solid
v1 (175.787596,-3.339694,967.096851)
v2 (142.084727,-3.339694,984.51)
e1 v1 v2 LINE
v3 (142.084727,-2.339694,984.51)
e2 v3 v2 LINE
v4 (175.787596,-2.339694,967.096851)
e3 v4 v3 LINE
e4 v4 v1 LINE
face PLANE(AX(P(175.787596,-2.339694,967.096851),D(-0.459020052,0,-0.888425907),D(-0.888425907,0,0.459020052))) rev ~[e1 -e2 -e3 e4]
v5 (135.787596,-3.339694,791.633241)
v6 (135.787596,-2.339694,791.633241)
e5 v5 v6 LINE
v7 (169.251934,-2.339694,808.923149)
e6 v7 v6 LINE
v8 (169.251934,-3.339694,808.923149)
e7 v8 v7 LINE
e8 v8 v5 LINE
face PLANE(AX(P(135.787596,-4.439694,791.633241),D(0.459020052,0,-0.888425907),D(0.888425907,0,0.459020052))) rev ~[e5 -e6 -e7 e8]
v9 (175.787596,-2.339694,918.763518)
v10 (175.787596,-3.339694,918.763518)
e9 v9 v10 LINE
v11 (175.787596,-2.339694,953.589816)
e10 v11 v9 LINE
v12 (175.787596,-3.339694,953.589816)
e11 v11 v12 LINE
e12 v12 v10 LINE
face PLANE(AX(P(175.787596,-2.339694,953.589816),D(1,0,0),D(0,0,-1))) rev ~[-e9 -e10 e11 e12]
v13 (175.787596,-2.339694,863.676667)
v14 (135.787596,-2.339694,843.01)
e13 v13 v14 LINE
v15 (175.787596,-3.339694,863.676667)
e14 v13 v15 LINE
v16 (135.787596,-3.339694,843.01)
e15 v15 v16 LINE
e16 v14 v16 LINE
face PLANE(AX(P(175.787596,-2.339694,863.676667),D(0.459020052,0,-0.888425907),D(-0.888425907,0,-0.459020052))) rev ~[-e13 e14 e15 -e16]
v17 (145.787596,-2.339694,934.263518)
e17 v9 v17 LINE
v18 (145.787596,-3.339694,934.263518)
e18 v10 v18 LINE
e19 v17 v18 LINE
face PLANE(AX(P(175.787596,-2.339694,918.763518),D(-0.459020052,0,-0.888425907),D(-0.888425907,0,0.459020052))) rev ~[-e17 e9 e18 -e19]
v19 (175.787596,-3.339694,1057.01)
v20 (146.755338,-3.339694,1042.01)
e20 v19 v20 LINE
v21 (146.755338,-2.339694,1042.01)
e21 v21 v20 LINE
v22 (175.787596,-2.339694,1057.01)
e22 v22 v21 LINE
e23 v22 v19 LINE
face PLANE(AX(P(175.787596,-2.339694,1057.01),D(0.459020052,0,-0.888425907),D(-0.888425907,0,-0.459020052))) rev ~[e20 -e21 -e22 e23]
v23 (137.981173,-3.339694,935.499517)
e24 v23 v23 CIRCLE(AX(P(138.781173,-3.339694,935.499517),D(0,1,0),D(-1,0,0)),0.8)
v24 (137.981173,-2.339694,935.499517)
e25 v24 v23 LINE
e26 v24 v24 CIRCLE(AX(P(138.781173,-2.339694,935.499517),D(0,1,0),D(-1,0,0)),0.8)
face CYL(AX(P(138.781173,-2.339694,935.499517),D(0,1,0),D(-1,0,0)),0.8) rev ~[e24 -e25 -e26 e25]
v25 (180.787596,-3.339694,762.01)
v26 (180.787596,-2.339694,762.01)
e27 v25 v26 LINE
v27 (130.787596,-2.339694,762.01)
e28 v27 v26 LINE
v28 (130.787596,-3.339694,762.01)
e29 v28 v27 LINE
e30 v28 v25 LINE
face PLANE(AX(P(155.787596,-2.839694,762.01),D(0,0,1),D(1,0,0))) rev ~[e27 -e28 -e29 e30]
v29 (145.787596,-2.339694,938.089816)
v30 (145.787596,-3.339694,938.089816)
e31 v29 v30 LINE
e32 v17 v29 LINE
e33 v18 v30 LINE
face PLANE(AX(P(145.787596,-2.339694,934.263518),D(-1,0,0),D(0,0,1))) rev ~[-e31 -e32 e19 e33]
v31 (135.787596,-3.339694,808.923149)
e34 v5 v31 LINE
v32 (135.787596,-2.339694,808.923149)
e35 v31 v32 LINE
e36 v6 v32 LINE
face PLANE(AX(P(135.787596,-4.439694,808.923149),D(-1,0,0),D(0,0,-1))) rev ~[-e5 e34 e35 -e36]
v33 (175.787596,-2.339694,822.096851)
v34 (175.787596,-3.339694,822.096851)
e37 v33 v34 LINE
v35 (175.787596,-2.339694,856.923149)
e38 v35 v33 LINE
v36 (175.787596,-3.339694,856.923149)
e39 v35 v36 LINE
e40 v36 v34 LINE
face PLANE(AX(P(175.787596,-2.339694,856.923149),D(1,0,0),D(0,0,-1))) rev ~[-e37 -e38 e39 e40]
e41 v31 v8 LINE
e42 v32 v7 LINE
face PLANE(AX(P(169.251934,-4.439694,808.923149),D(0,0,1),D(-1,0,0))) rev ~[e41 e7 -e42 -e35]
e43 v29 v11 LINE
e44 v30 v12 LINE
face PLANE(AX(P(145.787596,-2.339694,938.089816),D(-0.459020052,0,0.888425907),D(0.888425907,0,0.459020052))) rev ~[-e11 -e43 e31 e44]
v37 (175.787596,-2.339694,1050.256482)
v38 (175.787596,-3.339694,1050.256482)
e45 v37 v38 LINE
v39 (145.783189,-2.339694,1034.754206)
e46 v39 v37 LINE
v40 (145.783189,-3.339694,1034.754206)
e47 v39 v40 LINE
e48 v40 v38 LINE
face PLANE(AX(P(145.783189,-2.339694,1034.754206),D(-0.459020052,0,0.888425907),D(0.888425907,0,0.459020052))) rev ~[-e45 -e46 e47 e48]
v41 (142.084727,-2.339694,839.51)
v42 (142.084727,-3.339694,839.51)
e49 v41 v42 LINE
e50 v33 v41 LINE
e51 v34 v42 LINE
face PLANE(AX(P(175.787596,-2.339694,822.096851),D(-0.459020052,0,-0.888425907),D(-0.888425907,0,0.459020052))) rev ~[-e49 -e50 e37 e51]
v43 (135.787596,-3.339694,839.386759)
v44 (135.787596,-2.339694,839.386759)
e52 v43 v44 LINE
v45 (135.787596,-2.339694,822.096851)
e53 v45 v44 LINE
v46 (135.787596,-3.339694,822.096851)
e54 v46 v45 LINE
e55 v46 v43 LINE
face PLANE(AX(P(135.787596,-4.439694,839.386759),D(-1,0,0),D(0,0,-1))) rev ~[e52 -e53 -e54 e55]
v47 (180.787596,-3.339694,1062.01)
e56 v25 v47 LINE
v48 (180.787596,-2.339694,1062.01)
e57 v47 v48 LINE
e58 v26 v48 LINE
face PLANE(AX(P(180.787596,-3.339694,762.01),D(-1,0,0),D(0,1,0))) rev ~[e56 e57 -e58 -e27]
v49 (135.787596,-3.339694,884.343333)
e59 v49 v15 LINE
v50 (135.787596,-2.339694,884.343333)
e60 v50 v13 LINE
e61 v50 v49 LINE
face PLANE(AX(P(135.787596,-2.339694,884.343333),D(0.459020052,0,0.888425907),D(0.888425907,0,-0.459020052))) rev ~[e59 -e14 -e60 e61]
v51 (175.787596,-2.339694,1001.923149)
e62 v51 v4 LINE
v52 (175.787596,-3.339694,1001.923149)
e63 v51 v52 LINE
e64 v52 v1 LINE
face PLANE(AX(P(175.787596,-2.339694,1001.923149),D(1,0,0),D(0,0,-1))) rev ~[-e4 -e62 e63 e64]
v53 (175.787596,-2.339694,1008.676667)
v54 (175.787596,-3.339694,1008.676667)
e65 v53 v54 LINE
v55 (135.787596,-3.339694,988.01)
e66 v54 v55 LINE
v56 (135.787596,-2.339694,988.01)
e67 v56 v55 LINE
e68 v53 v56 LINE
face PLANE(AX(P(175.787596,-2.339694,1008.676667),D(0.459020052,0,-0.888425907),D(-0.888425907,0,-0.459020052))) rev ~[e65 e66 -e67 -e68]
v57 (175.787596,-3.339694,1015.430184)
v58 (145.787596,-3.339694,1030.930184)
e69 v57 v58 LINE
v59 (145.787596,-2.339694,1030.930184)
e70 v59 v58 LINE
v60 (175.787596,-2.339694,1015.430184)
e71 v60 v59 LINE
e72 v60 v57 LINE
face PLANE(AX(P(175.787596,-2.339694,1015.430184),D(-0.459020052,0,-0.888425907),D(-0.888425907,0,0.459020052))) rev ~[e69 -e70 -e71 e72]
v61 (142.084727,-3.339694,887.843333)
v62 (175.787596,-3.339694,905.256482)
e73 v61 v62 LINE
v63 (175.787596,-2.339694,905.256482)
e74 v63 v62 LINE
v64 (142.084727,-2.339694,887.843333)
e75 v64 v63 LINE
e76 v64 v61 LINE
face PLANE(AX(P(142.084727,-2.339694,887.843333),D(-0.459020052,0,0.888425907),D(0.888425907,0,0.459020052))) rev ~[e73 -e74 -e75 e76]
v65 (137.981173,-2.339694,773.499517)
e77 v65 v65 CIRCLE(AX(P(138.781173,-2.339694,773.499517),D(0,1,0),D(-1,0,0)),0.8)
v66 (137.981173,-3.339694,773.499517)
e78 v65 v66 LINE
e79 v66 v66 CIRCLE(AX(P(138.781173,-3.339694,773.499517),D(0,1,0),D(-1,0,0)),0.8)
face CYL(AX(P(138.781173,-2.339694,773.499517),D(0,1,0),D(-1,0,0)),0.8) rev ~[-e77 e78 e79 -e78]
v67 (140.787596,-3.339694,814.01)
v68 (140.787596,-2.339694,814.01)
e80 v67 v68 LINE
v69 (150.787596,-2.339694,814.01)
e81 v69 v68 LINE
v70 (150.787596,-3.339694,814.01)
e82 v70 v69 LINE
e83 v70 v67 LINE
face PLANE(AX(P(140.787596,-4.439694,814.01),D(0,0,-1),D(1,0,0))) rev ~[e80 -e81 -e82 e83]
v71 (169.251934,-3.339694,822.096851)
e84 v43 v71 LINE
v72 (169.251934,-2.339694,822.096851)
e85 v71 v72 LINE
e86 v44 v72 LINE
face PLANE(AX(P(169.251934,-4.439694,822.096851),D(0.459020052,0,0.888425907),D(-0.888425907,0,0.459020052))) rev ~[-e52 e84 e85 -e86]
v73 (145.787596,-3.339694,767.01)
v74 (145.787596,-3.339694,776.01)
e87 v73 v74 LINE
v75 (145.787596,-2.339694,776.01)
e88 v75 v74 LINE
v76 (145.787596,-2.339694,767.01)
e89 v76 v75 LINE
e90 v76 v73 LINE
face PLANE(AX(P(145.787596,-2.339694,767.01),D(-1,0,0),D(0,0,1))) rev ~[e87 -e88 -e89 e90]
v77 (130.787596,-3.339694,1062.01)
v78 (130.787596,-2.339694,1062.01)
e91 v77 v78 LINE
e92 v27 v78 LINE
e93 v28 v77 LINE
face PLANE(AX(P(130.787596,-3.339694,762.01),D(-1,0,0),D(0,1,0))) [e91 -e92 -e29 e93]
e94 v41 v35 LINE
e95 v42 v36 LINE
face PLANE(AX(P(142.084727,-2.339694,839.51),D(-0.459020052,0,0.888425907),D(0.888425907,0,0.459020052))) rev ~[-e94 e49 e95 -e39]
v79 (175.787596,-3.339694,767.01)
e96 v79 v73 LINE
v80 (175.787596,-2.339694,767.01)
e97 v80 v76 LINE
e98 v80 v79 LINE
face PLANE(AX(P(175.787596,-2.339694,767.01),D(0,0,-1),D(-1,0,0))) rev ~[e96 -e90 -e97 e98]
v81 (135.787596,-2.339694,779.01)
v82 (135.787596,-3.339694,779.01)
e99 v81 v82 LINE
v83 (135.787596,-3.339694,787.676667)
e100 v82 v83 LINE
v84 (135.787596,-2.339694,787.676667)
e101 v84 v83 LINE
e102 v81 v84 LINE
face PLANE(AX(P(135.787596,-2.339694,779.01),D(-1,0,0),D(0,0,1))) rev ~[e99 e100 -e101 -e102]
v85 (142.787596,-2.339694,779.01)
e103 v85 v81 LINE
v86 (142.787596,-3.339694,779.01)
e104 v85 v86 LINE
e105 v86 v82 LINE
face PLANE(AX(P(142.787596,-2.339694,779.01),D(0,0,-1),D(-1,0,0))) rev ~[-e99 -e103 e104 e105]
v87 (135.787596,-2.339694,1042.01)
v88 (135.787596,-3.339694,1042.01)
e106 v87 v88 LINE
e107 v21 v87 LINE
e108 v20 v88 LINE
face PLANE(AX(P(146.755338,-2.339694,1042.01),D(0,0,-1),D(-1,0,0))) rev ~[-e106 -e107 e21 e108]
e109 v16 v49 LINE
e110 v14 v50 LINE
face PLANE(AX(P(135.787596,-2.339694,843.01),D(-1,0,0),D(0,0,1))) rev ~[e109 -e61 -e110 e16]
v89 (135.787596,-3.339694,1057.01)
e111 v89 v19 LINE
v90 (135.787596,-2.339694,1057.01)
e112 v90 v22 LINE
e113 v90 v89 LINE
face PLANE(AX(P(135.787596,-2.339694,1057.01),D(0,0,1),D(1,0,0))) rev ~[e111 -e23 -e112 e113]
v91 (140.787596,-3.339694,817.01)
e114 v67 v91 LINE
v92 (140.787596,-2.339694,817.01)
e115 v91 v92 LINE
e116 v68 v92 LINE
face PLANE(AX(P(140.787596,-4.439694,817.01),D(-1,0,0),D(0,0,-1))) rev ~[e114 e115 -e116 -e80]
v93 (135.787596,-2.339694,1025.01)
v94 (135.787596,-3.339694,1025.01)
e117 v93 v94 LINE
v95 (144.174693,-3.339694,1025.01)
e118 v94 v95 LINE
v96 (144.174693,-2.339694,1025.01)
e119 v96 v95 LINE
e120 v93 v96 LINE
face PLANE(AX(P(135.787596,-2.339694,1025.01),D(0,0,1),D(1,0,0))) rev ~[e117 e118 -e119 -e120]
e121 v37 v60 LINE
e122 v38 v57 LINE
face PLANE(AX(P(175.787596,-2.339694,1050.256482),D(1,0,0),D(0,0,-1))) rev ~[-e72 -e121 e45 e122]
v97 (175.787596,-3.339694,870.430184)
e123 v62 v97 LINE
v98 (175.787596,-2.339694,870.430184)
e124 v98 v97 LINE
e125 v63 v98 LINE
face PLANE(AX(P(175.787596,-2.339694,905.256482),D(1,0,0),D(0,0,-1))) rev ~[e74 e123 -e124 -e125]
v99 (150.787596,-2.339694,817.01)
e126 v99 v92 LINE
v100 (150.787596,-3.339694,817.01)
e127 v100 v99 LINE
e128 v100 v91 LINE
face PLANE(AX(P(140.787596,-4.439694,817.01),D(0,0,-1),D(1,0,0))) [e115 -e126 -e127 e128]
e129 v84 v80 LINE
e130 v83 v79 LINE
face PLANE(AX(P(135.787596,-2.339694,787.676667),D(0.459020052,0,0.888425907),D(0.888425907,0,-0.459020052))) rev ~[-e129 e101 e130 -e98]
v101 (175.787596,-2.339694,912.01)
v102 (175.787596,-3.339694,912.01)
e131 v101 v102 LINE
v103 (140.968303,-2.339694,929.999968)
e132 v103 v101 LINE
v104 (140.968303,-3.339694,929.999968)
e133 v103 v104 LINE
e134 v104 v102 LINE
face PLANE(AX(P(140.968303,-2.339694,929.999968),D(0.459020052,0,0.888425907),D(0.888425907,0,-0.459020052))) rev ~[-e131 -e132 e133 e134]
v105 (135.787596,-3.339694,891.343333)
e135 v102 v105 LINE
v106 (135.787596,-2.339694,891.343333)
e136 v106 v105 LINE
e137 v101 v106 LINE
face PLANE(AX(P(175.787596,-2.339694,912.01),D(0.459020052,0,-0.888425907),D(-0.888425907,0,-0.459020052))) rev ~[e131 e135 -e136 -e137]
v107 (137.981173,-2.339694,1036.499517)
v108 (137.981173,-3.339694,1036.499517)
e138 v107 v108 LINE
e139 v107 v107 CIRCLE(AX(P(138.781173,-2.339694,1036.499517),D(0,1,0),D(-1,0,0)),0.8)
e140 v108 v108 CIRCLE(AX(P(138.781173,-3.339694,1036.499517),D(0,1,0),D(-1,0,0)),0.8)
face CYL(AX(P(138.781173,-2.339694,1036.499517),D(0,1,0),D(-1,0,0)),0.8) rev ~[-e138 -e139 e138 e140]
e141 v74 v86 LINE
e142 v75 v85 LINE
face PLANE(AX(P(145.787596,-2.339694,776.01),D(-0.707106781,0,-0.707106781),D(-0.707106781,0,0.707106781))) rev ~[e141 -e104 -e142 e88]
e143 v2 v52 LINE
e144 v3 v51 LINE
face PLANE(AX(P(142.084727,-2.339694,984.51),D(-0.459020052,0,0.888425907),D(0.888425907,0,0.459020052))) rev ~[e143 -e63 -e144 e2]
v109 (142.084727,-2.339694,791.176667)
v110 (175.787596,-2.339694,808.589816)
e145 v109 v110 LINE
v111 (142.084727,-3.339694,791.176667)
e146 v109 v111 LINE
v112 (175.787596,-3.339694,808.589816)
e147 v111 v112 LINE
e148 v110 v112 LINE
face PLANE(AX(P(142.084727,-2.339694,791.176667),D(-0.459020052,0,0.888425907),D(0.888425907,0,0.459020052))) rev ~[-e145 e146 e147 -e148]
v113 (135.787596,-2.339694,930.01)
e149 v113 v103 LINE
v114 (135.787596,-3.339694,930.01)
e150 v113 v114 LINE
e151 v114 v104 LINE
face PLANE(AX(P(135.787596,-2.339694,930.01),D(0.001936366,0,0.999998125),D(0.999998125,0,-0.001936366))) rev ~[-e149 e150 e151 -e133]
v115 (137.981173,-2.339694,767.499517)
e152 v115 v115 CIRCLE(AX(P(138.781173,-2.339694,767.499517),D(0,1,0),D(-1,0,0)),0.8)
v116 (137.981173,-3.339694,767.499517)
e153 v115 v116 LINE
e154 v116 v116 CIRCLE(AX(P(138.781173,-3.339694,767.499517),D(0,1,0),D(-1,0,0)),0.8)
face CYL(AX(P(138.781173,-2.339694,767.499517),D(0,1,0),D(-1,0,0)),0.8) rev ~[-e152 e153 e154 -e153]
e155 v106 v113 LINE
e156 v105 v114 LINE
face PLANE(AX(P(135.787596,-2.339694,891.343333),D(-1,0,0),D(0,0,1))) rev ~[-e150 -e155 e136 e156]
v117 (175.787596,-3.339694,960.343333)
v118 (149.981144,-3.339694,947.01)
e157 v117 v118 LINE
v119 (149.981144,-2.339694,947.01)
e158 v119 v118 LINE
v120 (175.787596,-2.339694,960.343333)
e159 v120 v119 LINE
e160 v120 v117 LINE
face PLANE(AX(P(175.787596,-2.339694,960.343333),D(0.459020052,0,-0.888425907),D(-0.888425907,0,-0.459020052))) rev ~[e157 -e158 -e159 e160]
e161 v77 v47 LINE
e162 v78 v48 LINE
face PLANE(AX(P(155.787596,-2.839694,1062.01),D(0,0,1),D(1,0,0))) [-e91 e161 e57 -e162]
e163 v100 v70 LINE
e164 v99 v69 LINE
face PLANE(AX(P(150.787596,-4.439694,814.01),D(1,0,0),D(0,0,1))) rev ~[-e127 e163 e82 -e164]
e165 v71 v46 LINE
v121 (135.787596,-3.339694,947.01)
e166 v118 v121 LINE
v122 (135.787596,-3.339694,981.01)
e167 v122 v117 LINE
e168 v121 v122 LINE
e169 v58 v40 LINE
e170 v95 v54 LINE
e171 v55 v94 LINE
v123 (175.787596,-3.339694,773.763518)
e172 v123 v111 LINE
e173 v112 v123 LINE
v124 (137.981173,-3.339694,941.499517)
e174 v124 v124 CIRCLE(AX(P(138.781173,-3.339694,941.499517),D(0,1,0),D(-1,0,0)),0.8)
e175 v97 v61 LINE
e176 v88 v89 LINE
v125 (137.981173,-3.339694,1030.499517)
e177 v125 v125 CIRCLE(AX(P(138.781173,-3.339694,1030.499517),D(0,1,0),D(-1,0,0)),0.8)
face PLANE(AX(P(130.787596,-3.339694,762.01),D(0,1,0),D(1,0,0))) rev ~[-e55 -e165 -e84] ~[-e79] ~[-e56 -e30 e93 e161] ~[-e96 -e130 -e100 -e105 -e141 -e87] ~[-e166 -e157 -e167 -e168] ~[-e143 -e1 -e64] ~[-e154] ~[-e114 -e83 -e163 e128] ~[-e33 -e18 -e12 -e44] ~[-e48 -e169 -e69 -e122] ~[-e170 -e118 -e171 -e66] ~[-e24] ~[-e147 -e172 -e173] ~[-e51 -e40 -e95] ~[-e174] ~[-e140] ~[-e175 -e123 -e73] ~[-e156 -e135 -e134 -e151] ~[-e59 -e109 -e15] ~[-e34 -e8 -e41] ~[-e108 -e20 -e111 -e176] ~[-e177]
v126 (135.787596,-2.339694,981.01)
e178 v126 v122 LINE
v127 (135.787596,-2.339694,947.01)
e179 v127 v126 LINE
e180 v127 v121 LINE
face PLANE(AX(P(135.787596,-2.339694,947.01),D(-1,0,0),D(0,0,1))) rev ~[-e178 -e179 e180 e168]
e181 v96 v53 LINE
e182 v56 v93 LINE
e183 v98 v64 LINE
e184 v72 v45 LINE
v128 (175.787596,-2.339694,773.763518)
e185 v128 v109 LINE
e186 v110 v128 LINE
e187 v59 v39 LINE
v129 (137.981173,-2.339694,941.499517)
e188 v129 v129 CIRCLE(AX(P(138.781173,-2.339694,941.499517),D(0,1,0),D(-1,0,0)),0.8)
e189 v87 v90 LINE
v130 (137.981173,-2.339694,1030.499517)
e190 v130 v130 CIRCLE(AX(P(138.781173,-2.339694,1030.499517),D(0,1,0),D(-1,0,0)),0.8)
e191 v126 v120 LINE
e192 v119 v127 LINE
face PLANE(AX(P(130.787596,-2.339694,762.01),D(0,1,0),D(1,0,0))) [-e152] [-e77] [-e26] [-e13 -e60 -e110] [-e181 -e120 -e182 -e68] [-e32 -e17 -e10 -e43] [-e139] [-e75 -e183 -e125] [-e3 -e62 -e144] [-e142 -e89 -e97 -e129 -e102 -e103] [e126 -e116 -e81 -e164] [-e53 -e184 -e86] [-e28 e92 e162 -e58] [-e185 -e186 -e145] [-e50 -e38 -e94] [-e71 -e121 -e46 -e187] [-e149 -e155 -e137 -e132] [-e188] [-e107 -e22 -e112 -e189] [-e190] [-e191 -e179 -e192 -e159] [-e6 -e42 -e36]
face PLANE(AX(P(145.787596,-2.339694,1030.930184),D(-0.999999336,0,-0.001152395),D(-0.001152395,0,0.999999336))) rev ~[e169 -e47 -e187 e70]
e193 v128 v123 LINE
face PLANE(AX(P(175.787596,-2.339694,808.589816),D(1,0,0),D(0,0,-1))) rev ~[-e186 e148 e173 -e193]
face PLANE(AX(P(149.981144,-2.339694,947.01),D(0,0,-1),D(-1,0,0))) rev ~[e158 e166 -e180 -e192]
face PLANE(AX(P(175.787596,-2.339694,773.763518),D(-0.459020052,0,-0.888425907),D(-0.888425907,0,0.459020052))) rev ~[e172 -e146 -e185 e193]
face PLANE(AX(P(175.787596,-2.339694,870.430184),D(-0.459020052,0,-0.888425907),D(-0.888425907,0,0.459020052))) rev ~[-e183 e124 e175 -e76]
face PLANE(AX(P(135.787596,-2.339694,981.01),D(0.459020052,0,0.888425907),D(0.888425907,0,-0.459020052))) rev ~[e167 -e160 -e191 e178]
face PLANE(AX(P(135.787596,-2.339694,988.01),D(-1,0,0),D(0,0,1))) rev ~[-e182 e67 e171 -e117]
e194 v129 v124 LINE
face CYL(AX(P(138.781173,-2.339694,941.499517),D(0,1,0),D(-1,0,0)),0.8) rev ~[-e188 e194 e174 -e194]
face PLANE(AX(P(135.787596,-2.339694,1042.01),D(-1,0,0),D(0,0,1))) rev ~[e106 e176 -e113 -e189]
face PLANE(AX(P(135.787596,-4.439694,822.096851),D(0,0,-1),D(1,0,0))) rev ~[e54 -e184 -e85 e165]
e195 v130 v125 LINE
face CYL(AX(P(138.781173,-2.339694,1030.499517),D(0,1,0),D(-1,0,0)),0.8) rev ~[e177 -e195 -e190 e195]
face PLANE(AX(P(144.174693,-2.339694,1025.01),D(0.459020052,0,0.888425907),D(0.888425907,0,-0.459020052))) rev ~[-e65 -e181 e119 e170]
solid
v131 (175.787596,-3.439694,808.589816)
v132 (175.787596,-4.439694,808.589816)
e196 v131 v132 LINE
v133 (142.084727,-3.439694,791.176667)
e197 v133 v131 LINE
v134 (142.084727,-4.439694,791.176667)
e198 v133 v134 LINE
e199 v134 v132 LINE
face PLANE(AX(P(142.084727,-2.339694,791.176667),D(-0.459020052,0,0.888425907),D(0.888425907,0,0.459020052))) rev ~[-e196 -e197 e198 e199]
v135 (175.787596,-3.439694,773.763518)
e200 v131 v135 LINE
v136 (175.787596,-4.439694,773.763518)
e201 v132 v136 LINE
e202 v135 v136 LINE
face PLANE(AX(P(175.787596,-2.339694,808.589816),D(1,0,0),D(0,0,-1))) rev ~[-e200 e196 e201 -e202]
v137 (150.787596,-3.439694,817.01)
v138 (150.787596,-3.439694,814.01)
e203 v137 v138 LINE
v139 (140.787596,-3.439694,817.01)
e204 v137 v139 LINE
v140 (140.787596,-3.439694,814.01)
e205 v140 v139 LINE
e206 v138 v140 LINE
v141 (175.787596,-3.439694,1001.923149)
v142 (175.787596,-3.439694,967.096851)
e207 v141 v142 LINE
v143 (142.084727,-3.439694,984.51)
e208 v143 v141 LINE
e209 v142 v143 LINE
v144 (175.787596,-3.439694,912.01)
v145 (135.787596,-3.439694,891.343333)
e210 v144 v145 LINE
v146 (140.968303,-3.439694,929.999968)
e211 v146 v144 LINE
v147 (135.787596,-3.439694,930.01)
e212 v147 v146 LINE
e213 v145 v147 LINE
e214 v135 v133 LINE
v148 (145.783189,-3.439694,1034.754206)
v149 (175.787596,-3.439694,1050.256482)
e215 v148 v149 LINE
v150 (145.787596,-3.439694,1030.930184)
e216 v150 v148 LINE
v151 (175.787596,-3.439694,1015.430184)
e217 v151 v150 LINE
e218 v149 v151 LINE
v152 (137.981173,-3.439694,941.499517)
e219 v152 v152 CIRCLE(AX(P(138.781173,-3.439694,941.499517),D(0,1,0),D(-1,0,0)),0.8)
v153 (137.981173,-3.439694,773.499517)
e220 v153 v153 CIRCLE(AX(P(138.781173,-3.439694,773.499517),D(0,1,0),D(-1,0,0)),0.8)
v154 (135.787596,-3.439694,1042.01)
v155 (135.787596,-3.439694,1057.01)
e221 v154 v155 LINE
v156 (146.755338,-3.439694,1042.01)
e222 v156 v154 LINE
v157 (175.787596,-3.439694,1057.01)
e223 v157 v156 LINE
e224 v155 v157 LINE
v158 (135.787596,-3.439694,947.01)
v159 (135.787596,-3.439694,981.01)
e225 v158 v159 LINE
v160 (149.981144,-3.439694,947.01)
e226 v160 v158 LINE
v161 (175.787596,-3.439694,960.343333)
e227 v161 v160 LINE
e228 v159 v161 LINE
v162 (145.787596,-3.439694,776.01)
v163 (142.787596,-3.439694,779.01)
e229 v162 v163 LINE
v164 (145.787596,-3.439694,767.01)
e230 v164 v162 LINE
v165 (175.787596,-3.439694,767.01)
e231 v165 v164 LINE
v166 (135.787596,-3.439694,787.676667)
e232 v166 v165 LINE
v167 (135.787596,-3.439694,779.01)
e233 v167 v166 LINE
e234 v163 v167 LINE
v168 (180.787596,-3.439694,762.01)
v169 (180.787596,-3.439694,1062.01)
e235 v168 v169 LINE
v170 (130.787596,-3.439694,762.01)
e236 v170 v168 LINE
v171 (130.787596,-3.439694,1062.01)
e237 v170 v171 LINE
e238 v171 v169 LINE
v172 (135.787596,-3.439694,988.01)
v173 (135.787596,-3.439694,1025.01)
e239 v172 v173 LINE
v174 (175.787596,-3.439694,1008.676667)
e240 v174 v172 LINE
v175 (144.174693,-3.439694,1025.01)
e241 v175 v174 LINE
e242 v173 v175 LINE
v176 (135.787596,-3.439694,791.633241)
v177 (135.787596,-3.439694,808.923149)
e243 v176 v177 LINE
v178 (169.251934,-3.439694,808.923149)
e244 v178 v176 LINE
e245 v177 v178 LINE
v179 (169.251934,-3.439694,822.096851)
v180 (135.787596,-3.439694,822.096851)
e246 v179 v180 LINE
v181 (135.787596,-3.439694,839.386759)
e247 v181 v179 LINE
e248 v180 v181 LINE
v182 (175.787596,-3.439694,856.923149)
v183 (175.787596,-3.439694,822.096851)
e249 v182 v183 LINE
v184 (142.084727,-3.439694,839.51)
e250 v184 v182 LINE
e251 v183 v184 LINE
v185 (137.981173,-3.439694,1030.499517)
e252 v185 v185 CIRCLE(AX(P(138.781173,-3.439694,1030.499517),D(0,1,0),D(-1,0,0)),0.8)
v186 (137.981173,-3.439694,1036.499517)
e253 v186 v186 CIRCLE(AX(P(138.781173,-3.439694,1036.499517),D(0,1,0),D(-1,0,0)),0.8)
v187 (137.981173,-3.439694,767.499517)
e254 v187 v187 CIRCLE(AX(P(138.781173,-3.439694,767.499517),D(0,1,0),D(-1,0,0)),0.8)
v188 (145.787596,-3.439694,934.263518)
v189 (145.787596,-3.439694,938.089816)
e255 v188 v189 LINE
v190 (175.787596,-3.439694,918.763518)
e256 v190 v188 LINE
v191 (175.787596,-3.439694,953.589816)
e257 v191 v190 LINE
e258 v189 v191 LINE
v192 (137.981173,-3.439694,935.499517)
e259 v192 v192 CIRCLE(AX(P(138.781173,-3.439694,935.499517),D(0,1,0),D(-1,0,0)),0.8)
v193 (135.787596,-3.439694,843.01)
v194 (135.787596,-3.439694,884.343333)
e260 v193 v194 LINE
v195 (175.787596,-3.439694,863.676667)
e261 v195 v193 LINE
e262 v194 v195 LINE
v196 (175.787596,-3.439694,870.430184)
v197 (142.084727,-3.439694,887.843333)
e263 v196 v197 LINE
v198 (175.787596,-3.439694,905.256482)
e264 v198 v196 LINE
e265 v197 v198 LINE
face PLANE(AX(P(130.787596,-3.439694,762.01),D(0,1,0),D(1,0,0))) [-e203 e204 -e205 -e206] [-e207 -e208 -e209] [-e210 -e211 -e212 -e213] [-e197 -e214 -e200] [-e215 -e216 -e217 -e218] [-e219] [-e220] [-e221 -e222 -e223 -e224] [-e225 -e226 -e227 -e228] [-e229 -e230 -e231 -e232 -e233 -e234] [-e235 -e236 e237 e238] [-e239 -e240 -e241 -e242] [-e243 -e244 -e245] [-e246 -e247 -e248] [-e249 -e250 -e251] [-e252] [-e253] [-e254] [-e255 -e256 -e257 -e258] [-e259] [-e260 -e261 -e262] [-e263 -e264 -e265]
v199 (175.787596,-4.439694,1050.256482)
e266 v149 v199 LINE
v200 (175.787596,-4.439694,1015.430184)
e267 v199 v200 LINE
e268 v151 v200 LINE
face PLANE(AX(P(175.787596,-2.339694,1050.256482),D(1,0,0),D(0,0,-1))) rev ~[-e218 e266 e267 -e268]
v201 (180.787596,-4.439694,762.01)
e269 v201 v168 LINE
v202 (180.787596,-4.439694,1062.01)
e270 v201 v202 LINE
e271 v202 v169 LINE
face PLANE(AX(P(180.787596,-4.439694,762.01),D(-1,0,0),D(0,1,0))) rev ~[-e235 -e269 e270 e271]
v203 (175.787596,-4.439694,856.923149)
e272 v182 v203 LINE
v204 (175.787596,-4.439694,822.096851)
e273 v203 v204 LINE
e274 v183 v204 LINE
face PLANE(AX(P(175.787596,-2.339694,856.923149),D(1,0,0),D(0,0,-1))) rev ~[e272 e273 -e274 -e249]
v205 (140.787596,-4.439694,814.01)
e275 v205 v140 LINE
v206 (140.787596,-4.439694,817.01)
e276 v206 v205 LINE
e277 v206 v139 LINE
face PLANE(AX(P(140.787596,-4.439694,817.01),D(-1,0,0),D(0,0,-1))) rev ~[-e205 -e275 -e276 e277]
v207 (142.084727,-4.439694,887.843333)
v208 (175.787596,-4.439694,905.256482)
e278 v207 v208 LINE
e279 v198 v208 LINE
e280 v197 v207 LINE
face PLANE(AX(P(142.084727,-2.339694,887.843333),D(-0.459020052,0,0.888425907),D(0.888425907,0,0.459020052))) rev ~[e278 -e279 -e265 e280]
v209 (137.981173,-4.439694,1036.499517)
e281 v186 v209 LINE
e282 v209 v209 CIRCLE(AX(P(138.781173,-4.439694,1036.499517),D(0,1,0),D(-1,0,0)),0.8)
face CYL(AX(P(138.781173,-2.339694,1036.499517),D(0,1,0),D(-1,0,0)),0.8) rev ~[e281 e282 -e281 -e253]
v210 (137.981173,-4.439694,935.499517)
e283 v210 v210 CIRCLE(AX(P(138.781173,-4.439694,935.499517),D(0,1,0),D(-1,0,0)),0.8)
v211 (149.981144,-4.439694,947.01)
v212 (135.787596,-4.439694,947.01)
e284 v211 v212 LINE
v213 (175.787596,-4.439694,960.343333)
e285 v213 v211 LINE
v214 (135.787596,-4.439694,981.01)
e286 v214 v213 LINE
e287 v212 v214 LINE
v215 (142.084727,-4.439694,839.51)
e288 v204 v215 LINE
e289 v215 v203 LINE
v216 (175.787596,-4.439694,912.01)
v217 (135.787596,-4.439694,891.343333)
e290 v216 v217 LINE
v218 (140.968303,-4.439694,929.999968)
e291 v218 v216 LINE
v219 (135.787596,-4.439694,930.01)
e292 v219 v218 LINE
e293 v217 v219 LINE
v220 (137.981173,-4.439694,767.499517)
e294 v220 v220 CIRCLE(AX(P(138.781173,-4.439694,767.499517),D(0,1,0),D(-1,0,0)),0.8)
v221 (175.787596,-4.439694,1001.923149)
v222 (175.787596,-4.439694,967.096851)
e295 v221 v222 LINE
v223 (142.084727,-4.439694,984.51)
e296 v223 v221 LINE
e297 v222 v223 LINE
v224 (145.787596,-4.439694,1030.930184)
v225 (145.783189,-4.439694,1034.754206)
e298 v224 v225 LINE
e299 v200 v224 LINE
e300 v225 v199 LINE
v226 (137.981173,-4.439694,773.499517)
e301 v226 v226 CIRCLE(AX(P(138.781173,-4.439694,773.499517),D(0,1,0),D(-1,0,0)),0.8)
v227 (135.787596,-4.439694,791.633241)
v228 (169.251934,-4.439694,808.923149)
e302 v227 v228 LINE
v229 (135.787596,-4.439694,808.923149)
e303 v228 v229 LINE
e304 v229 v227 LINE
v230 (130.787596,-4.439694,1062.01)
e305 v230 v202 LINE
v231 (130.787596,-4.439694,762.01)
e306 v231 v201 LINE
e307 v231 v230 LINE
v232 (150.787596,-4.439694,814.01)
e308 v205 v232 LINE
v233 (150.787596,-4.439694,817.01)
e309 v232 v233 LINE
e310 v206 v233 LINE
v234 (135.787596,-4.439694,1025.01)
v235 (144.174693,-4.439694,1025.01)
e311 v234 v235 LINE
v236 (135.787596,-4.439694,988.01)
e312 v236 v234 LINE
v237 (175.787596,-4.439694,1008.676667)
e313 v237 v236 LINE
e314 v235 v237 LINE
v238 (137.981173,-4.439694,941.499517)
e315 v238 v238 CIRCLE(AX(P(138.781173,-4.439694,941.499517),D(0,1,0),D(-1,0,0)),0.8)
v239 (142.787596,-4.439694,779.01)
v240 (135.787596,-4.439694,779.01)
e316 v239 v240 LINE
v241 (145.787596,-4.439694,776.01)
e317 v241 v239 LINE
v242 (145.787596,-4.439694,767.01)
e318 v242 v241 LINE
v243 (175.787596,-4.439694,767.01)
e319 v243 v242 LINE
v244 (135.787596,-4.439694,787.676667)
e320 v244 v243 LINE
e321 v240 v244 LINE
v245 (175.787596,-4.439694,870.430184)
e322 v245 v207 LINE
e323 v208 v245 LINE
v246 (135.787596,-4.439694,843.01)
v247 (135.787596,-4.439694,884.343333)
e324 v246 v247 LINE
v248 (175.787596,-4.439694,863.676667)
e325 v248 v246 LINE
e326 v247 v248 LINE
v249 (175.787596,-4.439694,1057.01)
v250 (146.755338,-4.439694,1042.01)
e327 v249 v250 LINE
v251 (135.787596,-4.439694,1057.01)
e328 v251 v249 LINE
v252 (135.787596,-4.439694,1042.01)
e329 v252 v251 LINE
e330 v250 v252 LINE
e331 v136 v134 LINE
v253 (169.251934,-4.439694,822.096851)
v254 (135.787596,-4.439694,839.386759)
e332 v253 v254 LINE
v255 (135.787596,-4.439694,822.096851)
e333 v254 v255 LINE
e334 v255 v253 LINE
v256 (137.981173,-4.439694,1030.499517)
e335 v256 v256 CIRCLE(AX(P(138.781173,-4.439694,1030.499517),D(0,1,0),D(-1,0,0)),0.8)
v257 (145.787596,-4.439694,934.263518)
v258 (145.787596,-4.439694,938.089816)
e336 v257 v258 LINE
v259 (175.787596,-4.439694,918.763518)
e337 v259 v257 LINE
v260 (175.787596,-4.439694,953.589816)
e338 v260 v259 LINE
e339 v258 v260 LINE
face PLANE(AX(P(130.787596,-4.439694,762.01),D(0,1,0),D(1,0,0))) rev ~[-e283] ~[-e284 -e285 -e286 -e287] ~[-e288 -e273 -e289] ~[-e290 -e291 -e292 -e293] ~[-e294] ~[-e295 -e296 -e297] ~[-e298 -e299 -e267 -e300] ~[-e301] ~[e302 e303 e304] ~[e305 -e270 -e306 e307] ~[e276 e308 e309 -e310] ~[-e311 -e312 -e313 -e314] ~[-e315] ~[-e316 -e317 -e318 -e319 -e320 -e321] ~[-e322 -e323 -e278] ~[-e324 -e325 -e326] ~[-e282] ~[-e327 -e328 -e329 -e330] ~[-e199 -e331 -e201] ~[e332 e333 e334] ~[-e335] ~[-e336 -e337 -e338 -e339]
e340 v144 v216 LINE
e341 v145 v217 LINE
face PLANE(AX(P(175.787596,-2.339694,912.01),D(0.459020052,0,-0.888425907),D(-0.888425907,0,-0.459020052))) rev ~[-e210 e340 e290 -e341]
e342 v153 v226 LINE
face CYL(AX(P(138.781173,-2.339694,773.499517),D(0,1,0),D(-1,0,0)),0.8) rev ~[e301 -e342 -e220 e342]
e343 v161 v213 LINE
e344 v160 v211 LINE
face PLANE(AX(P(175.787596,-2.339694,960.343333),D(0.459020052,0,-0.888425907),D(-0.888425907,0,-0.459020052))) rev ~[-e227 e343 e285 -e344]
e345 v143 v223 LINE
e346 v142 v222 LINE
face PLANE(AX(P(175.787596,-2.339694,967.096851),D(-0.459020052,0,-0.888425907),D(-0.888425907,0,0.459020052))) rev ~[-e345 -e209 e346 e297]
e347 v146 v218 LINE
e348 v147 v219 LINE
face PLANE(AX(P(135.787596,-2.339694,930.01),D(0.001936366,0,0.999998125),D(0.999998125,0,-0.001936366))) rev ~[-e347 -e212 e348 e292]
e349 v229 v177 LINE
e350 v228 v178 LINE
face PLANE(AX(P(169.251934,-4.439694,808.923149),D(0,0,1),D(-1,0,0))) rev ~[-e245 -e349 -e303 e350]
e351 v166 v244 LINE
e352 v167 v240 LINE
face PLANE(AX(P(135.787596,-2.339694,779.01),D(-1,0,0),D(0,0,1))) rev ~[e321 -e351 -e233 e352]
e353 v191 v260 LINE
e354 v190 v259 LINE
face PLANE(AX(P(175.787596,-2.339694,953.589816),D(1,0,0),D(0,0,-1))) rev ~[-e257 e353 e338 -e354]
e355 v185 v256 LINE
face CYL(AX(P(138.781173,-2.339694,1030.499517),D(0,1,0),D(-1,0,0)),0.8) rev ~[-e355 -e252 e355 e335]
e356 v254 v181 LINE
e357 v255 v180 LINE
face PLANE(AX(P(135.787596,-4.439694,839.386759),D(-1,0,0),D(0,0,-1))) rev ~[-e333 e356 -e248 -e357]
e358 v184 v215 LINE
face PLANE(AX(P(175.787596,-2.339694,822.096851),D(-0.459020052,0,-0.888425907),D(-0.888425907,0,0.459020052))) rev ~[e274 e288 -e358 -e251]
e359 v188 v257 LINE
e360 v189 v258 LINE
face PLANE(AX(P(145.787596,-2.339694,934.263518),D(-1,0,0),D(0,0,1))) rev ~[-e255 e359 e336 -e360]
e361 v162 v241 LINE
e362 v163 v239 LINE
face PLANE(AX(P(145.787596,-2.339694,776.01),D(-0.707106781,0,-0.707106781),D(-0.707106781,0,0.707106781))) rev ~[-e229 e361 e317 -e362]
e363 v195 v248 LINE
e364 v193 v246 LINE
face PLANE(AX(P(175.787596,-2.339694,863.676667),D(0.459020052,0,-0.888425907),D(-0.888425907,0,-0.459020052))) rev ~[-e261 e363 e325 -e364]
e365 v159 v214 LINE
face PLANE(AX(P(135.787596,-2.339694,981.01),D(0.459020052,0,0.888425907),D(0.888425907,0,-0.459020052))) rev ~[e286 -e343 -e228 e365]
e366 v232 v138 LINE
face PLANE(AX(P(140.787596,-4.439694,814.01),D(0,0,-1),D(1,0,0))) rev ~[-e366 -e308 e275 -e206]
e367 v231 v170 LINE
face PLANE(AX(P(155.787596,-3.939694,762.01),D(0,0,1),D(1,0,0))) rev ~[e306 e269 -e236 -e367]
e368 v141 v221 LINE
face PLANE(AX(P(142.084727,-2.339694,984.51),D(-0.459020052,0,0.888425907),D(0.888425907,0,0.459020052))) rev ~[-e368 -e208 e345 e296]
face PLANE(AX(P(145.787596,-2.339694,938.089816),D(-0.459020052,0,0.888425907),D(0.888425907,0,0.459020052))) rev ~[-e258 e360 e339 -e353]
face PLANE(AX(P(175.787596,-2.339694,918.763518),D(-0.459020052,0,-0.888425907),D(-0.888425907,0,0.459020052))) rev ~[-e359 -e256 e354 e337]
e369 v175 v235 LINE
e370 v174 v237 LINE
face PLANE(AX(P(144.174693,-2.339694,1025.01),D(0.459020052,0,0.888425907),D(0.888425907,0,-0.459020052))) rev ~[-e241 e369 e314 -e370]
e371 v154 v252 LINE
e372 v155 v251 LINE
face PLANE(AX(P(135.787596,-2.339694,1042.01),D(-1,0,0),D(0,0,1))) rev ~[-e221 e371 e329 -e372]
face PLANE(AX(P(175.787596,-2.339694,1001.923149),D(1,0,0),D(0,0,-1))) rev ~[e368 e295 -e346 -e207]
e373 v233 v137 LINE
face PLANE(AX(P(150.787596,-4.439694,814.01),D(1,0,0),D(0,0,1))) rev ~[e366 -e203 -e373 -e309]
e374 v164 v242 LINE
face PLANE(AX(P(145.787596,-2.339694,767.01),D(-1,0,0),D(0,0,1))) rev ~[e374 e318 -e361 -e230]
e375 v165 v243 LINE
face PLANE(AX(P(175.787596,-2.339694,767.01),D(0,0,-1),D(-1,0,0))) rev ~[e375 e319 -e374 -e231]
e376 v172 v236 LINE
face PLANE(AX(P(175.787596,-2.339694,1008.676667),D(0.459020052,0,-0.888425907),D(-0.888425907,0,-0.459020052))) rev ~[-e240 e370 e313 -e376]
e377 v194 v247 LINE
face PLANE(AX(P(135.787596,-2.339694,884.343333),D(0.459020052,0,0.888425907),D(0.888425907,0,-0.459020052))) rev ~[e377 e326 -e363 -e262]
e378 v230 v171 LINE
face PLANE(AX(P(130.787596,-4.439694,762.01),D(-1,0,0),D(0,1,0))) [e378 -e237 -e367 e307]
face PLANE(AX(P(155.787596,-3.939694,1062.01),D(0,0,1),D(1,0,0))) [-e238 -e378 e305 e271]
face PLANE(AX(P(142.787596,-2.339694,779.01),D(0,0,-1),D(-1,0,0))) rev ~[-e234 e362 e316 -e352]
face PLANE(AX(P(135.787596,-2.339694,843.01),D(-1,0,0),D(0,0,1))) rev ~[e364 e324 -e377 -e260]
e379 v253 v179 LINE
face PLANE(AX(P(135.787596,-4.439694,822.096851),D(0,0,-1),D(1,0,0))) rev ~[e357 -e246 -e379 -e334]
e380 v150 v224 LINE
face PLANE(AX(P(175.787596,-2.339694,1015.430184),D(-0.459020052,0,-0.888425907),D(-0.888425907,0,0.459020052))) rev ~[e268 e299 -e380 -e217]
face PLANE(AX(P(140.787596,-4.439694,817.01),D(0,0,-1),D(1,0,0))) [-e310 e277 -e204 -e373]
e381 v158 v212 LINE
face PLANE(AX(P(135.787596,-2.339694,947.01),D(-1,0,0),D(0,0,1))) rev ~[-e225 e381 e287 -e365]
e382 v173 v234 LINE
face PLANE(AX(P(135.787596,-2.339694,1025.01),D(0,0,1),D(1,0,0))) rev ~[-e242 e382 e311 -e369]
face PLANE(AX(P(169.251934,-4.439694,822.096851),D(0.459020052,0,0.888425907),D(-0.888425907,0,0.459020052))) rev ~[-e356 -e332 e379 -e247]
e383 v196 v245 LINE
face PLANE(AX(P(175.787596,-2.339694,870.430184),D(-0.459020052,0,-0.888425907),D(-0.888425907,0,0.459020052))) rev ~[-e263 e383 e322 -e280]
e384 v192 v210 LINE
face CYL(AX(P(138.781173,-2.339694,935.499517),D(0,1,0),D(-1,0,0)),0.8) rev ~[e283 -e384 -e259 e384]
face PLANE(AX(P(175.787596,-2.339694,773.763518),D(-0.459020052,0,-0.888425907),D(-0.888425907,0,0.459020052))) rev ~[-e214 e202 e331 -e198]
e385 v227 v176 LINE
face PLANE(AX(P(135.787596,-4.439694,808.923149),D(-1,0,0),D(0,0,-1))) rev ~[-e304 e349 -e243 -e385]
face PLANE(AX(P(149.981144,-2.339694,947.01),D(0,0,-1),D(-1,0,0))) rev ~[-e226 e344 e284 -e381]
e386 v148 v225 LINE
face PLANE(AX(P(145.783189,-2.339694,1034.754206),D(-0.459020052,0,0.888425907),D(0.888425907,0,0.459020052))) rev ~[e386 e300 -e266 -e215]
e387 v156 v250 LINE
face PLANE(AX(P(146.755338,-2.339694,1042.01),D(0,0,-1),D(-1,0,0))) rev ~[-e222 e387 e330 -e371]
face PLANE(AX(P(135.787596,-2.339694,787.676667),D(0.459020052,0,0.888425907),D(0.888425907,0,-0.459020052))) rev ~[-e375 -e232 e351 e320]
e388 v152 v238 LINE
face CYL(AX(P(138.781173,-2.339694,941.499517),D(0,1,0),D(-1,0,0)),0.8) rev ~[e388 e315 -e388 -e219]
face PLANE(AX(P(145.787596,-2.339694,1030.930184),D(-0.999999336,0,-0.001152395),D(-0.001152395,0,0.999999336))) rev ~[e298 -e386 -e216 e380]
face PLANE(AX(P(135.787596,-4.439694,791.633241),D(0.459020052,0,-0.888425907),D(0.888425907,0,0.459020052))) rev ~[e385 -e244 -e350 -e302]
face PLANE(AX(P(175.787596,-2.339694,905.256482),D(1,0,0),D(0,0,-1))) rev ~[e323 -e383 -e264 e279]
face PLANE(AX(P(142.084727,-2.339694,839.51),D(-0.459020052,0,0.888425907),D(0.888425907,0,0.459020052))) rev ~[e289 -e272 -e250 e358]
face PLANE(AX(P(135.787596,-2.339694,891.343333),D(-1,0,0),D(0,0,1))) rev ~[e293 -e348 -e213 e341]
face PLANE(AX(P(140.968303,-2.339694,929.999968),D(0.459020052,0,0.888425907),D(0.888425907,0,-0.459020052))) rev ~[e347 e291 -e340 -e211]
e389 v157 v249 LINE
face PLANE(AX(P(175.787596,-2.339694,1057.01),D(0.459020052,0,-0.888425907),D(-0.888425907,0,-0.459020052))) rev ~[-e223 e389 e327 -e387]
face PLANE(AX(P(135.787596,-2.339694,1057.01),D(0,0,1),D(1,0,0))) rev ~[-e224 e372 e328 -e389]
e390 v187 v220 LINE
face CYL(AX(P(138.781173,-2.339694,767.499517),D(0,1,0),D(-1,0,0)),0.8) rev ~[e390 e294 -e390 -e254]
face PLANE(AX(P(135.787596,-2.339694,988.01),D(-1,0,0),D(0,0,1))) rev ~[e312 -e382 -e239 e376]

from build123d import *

# Parameters (mm, degrees)
SKETCH_2_W          = 50
SKETCH_2_H          = 1
EXTRUDE_1_DEPTH     = 300
EXTRUDE_1_2_DEPTH   = 300
CUT_EXTRUDE_1_DEPTH = 1078.290028257
SKETCH_4_W          = 10
SKETCH_4_H          = 1.5
CUT_EXTRUDE_2_DEPTH = 10
SKETCH_5_R          = 0.8
CUT_EXTRUDE_3_DEPTH = 1078.290028257


with BuildPart() as part:
    # 草图2 → 凸台-拉伸1 (new body)
    with BuildSketch(Plane.XY.offset(762.01)):
        with Locations((155.787596038, -2.839694097)):
            Rectangle(SKETCH_2_W, SKETCH_2_H)
    extrude(amount=EXTRUDE_1_DEPTH)


with BuildPart() as body_2:
    # 草图2 → Extrude 1 2 (new body)
    with BuildSketch(Plane.XY.offset(762.01)):
        with Locations((155.787596038, -3.939694097)):
            Rectangle(SKETCH_2_W, SKETCH_2_H)
    extrude(amount=EXTRUDE_1_2_DEPTH)


with BuildPart() as cut_extrude_1_tool:
    # 草图3 → 切除-拉伸1 (new, through all)
    with BuildSketch(Plane(origin=(0, -2.339694097, 0), x_dir=(1, 0, 0), z_dir=(0, 1, 0))):
        Polygon((135.787596038, -1057.01), (175.787596038, -1057.01), (146.755337973, -1042.01), (135.787596038, -1042.01), align=None)
        Polygon((145.783189251, -1034.754205558), (175.787596038, -1050.256482398), (175.787596038, -1015.430184269), (145.787596038, -1030.930184269), align=None)
        Polygon((144.174692812, -1025.01), (175.787596038, -1008.676666667), (135.787596038, -988.01), (135.787596038, -1025.01), align=None)
        Polygon((142.08472688, -984.51), (175.787596038, -1001.923149065), (175.787596038, -967.096850935), align=None)
        Polygon((135.787596038, -947.01), (135.787596038, -981.01), (175.787596038, -960.343333333), (149.981144425, -947.01), align=None)
        Polygon((145.787596038, -938.089815731), (175.787596038, -953.589815731), (175.787596038, -918.763517602), (145.787596038, -934.263517602), align=None)
        Polygon((140.968302675, -929.999968238), (175.787596038, -912.01), (135.787596038, -891.343333333), (135.787596038, -930.01), align=None)
        Polygon((142.08472688, -887.843333333), (175.787596038, -905.256482398), (175.787596038, -870.430184269), align=None)
        Polygon((135.787596038, -843.01), (135.787596038, -884.343333333), (175.787596038, -863.676666667), align=None)
        Polygon((142.08472688, -839.51), (175.787596038, -856.923149065), (175.787596038, -822.096850935), align=None)
        Polygon((135.787596038, -779.01), (135.787596038, -787.676666667), (175.787596038, -767.01), (145.787596038, -767.01), (145.787596038, -776.01), (142.787596038, -779.01), align=None)
        Polygon((142.08472688, -791.176666667), (175.787596038, -808.589815731), (175.787596038, -773.763517602), align=None)
    extrude(amount=-CUT_EXTRUDE_1_DEPTH)


with BuildPart() as part_1:
    add(part.part)

    # 切除-拉伸1: cut by cut_extrude_1_tool
    add(cut_extrude_1_tool.part, mode=Mode.SUBTRACT)


with BuildPart() as body_2_1:
    add(body_2.part)

    # 切除-拉伸1: cut by cut_extrude_1_tool
    add(cut_extrude_1_tool.part, mode=Mode.SUBTRACT)


with BuildPart() as cut_extrude_2_tool:
    # 草图4 → 切除-拉伸2 (new body)
    with BuildSketch(Plane.XZ.offset(4.439694097)):
        with Locations((145.787596038, 814.76)):
            Rectangle(SKETCH_4_W, SKETCH_4_H)
        with Locations((145.787596038, 816.26)):
            Rectangle(SKETCH_4_W, SKETCH_4_H)
        Polygon((135.787596038, 791.633241199), (169.251933842, 808.923149065), (135.787596038, 808.923149065), align=None)
        Polygon((135.787596038, 822.096850935), (169.251933842, 822.096850935), (135.787596038, 839.386758801), align=None)
    extrude(amount=-CUT_EXTRUDE_2_DEPTH)


with BuildPart() as part_2:
    add(part_1.part)

    # 切除-拉伸2: cut by cut_extrude_2_tool
    add(cut_extrude_2_tool.part, mode=Mode.SUBTRACT)


with BuildPart() as body_2_2:
    add(body_2_1.part)

    # 切除-拉伸2: cut by cut_extrude_2_tool
    add(cut_extrude_2_tool.part, mode=Mode.SUBTRACT)


with BuildPart() as cut_extrude_3_tool:
    # 草图5 → 切除-拉伸3 (new, through all)
    with BuildSketch(Plane(origin=(0, -2.339694097, 0), x_dir=(1, 0, 0), z_dir=(0, 1, 0))):
        with Locations(Location((138.781173313, -1036.499517206, 0), (0, 0, 180))):
            Circle(SKETCH_5_R)
        with Locations((124.781173313, -1036.499517206)):
            Circle(SKETCH_5_R)
        with Locations((124.781173313, -1030.499517206)):
            Circle(SKETCH_5_R)
        with Locations(Location((138.781173313, -1030.499517206, 0), (0, 0, 180))):
            Circle(SKETCH_5_R)
        with Locations((124.781173313, -935.499517206)):
            Circle(SKETCH_5_R)
        with Locations(Location((138.781173313, -935.499517206, 0), (0, 0, 180))):
            Circle(SKETCH_5_R)
        with Locations(Location((138.781173313, -941.499517206, 0), (0, 0, 180))):
            Circle(SKETCH_5_R)
        with Locations((124.781173313, -941.499517206)):
            Circle(SKETCH_5_R)
        with Locations((124.781173313, -767.499517206)):
            Circle(SKETCH_5_R)
        with Locations(Location((138.781173313, -767.499517206, 0), (0, 0, 180))):
            Circle(SKETCH_5_R)
        with Locations(Location((138.781173313, -773.499517206, 0), (0, 0, 180))):
            Circle(SKETCH_5_R)
        with Locations((124.781173313, -773.499517206)):
            Circle(SKETCH_5_R)
    extrude(amount=-CUT_EXTRUDE_3_DEPTH)


with BuildPart() as part_3:
    add(part_2.part)

    # 切除-拉伸3: cut by cut_extrude_3_tool
    add(cut_extrude_3_tool.part, mode=Mode.SUBTRACT)


with BuildPart() as body_2_3:
    add(body_2_2.part)

    # 切除-拉伸3: cut by cut_extrude_3_tool
    add(cut_extrude_3_tool.part, mode=Mode.SUBTRACT)


solid = Compound([part_3.part, body_2_3.part])
